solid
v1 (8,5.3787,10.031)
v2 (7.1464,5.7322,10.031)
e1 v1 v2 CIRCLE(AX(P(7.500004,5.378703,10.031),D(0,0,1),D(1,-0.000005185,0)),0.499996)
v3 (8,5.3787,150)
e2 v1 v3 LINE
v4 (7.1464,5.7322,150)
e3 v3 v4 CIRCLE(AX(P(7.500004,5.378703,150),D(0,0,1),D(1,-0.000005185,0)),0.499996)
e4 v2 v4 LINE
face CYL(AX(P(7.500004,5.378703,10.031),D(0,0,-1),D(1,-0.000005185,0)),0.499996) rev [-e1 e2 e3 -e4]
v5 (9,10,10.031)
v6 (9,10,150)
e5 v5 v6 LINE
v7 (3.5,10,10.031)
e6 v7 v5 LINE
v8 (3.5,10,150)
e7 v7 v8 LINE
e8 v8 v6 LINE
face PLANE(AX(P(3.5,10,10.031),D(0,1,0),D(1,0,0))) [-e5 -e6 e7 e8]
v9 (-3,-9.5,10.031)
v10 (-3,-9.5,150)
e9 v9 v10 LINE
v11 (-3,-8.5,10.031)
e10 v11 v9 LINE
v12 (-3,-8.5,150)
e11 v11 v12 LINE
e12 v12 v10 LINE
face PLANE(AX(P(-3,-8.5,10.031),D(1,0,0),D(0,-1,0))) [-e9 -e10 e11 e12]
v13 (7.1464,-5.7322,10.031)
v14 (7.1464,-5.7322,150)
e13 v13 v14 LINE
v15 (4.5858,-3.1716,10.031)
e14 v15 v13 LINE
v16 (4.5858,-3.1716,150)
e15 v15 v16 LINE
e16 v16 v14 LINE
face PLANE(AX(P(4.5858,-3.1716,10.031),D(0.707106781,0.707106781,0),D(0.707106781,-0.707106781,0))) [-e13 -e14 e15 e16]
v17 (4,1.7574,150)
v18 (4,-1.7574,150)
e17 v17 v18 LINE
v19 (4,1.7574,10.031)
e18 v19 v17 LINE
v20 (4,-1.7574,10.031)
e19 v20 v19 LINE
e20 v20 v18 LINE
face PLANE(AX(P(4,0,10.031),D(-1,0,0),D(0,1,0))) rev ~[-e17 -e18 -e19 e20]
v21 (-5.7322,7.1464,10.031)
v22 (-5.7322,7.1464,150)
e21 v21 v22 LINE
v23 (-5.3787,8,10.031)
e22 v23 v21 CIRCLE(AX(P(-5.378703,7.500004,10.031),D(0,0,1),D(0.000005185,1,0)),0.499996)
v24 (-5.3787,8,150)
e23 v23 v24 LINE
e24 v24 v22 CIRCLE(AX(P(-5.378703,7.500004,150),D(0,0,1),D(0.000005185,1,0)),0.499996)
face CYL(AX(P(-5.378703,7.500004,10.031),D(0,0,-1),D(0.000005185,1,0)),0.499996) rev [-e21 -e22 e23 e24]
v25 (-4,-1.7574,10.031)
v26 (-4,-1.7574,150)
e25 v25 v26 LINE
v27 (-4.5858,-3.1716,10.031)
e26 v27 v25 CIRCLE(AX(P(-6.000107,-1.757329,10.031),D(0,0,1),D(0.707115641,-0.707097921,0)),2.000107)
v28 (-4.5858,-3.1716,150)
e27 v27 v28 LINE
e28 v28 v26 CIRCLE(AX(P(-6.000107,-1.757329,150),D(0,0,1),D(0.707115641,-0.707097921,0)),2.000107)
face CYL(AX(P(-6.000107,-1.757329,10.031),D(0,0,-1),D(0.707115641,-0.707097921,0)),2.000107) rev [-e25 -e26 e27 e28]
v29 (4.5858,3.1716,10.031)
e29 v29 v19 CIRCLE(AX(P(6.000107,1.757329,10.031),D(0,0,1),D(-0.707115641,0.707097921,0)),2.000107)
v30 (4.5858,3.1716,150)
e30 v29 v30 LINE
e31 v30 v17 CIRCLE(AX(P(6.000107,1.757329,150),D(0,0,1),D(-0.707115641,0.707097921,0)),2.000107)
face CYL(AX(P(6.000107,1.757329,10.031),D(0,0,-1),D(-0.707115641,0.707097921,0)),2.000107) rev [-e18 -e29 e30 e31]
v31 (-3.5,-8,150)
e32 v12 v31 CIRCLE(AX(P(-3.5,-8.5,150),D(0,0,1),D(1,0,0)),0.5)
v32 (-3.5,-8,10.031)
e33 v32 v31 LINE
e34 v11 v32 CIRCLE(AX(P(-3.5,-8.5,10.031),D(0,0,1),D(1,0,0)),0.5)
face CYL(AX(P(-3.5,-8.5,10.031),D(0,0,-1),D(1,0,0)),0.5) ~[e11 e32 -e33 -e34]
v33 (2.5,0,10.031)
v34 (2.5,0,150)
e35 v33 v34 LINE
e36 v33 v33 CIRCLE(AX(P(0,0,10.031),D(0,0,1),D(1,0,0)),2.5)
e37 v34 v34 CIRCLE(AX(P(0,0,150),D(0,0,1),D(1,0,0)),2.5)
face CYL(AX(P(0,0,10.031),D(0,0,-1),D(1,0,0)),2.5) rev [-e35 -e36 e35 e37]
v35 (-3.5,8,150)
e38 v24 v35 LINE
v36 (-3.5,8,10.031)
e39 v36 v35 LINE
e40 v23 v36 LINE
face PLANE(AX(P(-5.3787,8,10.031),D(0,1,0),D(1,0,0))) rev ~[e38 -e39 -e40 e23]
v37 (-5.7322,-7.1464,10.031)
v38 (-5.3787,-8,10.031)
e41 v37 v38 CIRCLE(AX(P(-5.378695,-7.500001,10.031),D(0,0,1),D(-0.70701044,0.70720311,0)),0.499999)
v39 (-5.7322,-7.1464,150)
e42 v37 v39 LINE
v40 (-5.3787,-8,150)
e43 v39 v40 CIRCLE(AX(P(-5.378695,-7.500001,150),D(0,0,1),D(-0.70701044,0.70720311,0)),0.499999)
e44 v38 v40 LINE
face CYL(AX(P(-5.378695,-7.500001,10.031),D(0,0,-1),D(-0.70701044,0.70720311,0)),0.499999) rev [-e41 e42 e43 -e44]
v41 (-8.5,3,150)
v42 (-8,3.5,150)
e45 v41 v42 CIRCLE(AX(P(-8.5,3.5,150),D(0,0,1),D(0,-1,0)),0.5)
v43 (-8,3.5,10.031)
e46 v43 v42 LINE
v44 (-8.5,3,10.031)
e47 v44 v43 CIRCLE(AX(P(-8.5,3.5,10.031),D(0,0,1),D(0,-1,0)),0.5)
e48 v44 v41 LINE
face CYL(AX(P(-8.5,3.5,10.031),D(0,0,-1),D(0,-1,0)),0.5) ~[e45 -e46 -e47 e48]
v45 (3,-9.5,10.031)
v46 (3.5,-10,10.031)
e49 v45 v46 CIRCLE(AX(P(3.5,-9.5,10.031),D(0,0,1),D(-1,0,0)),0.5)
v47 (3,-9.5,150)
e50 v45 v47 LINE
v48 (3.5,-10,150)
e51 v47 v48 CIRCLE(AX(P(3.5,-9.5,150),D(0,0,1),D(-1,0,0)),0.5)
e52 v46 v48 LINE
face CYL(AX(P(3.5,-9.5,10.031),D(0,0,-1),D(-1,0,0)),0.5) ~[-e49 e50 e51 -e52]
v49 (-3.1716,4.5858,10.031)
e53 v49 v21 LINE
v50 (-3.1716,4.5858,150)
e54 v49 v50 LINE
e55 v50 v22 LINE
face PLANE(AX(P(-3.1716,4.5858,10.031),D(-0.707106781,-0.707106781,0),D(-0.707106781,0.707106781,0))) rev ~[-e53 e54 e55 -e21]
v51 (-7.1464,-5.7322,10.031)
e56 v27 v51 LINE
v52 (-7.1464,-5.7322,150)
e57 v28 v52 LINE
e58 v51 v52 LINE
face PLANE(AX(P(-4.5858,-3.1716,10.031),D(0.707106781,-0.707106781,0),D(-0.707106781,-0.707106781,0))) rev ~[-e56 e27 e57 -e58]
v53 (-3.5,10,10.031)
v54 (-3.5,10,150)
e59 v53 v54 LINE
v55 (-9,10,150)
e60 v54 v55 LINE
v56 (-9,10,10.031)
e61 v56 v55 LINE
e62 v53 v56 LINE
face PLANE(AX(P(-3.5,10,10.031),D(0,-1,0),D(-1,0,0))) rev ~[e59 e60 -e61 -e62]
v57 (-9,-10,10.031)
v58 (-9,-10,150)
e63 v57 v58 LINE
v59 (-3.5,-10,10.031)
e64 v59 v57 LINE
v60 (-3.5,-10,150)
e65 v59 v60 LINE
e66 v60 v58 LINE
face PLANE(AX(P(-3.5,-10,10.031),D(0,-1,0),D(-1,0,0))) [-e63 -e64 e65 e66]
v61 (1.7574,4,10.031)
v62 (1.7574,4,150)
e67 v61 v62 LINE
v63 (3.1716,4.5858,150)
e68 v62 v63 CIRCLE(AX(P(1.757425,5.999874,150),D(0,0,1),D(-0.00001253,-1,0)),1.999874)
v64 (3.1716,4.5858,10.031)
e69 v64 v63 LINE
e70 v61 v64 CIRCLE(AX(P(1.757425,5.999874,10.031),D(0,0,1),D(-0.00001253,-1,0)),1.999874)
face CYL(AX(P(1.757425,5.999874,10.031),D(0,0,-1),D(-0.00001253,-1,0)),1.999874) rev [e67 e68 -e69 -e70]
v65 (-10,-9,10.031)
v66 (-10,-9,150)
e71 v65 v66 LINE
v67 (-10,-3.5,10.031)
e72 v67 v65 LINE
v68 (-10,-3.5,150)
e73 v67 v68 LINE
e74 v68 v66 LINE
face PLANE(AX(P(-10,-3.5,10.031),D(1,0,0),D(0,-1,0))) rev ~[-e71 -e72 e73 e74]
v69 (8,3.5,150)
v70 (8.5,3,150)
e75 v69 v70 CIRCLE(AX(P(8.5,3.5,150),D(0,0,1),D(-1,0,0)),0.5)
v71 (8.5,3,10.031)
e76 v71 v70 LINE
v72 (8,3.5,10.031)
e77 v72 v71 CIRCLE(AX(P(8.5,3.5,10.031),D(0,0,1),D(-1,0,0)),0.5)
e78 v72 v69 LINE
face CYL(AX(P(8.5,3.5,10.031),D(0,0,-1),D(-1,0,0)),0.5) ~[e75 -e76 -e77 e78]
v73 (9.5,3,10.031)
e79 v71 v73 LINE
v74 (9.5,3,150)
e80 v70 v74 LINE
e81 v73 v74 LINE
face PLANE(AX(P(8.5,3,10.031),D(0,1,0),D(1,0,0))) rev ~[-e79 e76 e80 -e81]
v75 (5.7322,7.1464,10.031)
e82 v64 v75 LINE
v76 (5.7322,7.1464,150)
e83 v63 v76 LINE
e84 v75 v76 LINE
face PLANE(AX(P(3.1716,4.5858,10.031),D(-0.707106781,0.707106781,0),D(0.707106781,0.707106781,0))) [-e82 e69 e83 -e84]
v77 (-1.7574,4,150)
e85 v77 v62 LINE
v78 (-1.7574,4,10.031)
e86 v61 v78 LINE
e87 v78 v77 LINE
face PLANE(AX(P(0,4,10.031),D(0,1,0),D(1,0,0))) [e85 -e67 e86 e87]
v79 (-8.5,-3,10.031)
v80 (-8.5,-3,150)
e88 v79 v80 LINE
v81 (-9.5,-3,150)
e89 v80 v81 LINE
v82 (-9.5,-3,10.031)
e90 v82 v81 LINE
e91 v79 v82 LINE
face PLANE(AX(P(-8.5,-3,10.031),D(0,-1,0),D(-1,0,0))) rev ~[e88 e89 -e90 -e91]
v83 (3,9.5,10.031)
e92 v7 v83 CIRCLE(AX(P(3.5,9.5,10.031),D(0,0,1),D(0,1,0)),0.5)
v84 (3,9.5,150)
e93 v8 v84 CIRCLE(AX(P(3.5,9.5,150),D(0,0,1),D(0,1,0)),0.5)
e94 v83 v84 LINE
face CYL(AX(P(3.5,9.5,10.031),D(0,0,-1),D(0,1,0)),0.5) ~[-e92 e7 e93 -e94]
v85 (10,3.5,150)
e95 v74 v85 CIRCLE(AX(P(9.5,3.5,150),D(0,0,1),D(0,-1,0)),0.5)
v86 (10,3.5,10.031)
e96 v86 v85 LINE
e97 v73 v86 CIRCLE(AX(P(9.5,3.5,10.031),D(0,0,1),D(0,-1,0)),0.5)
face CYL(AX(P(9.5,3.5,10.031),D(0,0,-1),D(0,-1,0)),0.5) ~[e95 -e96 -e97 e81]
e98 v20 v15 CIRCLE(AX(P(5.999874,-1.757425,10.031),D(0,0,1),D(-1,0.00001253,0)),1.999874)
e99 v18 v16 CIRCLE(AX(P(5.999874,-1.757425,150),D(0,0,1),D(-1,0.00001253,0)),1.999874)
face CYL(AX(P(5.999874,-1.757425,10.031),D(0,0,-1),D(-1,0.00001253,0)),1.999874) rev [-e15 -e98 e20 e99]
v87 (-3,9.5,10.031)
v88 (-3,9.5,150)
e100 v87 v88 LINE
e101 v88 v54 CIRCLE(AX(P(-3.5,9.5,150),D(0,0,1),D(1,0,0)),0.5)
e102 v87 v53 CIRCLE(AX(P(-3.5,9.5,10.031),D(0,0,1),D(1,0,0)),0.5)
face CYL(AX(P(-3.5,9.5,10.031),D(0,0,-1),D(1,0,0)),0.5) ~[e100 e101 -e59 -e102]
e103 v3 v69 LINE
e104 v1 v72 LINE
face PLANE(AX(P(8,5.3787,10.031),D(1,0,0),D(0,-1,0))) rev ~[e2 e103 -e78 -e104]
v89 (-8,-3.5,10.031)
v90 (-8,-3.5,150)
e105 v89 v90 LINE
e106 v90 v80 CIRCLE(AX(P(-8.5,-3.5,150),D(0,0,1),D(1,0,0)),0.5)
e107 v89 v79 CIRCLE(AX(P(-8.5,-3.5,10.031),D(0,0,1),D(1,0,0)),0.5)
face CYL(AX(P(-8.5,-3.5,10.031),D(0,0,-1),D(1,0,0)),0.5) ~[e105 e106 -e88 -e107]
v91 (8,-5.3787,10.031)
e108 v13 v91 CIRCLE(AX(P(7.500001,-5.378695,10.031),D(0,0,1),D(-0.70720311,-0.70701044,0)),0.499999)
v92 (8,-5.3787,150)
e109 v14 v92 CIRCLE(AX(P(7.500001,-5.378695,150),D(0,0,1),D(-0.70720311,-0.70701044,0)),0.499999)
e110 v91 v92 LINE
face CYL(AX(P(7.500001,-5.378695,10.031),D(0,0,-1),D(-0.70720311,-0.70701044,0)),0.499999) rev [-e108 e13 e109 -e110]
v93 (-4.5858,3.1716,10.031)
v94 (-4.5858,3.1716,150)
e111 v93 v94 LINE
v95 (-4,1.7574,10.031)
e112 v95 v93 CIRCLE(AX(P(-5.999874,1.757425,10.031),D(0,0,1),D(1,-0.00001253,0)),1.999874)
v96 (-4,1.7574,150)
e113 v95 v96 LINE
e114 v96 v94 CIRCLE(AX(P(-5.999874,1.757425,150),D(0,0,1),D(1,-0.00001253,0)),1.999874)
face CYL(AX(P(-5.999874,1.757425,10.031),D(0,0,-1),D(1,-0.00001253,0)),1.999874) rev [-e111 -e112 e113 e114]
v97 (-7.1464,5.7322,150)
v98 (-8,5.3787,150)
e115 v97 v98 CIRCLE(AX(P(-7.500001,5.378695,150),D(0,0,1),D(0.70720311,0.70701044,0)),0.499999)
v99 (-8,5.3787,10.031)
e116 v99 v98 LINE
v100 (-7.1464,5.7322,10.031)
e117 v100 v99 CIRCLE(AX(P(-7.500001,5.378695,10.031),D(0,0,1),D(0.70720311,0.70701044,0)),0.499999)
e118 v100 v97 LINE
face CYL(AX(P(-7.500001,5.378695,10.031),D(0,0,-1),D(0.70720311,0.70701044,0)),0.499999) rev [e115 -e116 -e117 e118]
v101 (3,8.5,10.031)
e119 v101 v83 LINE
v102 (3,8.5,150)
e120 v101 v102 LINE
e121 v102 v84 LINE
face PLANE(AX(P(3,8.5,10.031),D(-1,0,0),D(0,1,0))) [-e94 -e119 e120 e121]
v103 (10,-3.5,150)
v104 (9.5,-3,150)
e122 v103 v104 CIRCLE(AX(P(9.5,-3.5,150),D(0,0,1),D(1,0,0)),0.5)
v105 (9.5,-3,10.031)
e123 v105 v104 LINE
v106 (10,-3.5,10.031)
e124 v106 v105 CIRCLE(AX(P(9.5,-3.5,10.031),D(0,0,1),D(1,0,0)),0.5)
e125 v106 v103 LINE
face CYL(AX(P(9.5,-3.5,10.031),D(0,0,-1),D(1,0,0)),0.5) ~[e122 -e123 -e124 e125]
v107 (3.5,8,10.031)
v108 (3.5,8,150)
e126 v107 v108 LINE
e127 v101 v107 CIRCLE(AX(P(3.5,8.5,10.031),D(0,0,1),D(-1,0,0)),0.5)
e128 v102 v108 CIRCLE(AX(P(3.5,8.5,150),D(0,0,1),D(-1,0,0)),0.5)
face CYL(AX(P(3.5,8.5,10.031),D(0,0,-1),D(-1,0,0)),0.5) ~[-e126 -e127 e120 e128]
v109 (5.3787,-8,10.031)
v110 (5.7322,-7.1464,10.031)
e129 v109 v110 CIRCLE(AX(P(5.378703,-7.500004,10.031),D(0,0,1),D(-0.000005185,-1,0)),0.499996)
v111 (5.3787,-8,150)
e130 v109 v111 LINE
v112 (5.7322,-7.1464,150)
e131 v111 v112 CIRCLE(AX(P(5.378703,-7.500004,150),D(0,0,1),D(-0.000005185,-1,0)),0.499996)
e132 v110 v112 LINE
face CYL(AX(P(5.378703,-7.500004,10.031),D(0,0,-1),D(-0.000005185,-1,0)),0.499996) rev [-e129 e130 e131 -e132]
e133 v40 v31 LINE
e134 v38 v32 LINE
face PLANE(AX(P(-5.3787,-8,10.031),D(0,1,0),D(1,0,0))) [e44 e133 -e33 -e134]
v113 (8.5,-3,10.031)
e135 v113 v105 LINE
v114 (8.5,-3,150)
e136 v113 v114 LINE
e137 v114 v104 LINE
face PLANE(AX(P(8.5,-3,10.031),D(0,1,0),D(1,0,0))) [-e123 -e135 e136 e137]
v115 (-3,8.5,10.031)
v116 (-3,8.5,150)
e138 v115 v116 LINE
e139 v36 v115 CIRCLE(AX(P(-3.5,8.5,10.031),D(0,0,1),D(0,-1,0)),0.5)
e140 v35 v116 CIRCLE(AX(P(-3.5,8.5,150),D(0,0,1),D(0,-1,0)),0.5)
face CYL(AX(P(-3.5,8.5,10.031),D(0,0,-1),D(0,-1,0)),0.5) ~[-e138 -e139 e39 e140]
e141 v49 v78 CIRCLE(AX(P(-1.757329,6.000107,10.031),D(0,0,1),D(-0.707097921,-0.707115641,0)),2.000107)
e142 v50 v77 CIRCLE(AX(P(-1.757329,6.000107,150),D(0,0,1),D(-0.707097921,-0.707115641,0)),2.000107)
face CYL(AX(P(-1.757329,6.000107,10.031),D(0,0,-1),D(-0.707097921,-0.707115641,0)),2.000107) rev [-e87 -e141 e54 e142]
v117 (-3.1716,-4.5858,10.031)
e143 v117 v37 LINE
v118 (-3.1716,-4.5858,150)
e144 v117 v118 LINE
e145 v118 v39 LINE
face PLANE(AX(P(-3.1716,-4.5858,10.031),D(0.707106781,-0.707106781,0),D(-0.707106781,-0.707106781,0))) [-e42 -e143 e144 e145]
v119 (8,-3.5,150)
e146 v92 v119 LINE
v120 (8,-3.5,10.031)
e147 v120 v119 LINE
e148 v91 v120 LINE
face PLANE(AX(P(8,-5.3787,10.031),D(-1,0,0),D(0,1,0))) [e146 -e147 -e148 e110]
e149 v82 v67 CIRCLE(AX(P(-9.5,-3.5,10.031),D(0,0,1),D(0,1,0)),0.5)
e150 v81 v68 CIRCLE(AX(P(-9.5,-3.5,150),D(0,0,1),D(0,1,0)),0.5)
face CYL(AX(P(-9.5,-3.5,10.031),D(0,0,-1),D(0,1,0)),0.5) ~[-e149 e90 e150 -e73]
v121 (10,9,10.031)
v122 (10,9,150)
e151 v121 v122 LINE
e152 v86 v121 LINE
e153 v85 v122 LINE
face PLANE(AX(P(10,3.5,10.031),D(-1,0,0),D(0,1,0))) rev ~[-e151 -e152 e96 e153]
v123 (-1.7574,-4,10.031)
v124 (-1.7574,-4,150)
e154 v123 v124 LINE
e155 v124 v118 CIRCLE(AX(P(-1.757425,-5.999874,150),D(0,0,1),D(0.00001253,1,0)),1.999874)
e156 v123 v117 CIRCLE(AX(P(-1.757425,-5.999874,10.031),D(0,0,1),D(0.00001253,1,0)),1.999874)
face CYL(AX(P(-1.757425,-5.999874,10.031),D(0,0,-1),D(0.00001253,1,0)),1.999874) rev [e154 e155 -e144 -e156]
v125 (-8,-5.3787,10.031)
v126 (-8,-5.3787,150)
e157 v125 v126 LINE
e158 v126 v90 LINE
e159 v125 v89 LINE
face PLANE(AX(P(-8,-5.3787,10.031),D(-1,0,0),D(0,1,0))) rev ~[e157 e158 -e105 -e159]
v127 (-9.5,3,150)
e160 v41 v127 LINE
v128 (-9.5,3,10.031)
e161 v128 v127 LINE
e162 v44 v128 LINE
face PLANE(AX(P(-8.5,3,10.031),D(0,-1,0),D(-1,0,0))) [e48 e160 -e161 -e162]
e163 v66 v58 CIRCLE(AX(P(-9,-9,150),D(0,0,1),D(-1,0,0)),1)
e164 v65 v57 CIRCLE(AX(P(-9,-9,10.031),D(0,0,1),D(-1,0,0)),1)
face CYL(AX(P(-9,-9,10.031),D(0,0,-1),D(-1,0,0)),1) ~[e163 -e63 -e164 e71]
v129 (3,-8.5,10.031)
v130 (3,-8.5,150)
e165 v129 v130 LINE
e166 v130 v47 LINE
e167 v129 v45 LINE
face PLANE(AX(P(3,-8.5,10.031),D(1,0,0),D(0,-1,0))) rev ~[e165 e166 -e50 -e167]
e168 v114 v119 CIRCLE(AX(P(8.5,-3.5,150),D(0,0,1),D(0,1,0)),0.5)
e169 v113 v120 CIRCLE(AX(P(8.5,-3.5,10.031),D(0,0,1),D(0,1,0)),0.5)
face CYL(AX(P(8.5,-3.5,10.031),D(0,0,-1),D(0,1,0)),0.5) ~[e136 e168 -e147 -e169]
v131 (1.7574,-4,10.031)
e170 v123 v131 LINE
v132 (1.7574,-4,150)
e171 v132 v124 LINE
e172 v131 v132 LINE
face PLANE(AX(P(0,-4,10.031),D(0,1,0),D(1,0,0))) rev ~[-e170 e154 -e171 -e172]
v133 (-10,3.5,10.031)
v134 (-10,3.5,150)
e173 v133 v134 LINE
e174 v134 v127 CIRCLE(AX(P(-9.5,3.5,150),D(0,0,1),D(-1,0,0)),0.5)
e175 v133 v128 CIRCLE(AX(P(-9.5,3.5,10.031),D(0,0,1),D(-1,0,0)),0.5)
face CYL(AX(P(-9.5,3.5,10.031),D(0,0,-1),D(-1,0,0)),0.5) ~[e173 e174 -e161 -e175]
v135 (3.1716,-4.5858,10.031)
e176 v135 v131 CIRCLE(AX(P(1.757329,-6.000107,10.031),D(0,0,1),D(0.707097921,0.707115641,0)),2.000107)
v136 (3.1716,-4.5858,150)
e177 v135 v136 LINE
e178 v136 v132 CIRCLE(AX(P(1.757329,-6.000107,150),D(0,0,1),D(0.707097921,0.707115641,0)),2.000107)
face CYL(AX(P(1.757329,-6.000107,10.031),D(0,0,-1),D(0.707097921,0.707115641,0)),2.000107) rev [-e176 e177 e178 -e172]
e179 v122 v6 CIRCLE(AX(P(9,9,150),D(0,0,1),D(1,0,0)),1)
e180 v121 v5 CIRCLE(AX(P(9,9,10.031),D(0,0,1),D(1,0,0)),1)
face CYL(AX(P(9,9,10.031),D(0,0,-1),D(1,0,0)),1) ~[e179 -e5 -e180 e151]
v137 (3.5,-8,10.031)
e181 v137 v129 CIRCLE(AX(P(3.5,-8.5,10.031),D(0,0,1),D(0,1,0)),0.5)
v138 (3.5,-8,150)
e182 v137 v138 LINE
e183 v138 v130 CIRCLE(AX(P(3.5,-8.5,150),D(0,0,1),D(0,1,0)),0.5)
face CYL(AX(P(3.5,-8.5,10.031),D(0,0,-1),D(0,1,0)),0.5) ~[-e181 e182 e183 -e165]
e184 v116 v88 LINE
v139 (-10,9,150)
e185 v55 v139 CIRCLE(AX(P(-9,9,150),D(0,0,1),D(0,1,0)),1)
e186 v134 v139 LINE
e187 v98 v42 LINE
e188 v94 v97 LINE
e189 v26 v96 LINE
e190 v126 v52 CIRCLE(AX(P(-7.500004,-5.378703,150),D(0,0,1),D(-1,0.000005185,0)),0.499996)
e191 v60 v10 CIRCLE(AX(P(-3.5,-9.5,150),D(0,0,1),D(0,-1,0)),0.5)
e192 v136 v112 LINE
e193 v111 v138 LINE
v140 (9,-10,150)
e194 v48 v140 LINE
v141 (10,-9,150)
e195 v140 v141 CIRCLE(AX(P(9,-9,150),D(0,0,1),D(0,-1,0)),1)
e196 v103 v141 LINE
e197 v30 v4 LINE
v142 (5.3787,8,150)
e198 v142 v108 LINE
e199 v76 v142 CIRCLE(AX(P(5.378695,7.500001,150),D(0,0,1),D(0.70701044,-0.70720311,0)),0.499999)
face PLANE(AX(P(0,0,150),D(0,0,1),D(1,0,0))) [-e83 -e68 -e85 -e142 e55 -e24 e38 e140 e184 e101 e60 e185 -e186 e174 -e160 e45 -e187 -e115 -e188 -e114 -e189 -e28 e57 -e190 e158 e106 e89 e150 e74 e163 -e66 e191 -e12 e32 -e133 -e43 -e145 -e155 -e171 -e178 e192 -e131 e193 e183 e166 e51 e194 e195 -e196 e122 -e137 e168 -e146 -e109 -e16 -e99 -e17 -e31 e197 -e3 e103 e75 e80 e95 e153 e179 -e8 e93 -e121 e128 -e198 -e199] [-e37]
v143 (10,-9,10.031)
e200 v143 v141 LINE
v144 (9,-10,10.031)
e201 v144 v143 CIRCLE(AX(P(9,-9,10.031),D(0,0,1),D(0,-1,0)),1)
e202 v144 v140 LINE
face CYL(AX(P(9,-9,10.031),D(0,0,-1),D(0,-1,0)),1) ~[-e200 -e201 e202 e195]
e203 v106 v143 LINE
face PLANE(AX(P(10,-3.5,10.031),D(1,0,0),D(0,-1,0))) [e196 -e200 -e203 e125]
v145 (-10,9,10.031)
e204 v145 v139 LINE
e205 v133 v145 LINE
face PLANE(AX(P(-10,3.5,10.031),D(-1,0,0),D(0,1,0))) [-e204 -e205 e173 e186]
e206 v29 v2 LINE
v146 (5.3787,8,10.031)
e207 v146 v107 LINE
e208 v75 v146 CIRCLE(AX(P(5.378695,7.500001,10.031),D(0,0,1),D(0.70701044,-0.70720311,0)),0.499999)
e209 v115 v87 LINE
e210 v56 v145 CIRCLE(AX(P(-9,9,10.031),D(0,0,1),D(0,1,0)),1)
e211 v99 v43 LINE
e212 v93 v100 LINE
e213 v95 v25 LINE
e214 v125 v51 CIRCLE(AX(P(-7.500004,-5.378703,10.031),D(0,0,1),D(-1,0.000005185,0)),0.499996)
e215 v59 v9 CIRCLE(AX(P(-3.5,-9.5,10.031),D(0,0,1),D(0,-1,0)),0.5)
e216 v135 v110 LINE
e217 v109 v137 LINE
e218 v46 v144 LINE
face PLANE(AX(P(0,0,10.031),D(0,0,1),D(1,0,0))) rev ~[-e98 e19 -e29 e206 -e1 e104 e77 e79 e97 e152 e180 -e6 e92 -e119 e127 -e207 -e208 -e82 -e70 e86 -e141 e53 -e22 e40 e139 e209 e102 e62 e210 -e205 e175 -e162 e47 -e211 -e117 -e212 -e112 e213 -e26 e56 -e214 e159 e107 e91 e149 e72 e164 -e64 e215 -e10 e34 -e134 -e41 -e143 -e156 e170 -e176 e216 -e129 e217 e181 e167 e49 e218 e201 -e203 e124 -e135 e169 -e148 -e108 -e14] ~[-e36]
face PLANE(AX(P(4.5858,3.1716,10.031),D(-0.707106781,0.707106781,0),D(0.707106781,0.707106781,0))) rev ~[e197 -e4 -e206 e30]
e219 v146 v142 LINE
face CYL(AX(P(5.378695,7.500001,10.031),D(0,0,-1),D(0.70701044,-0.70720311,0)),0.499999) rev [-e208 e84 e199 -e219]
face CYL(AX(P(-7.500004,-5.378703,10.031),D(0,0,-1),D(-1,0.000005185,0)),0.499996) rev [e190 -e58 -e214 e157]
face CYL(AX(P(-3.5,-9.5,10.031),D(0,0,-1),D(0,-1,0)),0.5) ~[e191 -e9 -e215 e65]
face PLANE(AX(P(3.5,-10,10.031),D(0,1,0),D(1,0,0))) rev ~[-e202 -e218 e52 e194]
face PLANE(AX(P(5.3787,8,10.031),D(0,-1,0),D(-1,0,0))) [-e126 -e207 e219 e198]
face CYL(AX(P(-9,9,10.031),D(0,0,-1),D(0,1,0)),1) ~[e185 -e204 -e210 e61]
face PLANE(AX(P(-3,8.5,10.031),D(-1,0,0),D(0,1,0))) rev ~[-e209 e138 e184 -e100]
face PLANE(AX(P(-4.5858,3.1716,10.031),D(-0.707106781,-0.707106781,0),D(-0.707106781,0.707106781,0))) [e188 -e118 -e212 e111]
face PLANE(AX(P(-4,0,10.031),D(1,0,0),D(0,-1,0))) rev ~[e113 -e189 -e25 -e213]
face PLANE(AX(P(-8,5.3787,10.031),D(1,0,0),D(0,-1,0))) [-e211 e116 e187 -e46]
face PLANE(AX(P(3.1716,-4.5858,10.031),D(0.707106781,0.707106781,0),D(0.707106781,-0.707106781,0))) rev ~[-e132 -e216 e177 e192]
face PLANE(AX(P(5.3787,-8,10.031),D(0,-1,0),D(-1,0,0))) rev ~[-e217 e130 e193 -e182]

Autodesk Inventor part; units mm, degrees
ref_plane "Start Plane" through (0, 0, 10.031) normal (0, 0, 1) x (1, 0, 0)
ref_plane "End Plane" through (0, 0, 150) normal (0, 0, 1) x (1, 0, 0)
sketch "Sketch" plane through (0, 0, 0) normal (0, 0, 1) x (1, 0, 0)
  line L0 (0, 0) -> (2.5, 0) construction
  line L1 (0, 0) -> (0, 2.5) construction
  line L2 (0, 4) -> (0, -4) construction
  line L3 (0, 4) -> (1.7574, 4)
  arc A0 (1.7574, 4) -> (3.1716, 4.5858) centre (1.7574, 6) ccw
  line L4 (3.1716, 4.5858) -> (5.7322, 7.1464)
  line L5 (-4, 0) -> (4, 0) construction
  line L6 (4, 0) -> (4, 1.7574)
  arc A1 (4.5858, 3.1716) -> (4, 1.7574) centre (6, 1.7574) ccw
  line L7 (4.5858, 3.1716) -> (7.1464, 5.7322)
  line L8 (0, 0) -> (10, 10) construction
  line L9 (0, 0) -> (19.6827, 0) construction
  arc A2 (8, 5.3787) -> (7.1464, 5.7322) centre (7.5, 5.3787) ccw
  line L10 (8, 5.3787) -> (8, 3.5)
  arc A3 (8, 3.5) -> (8.5, 3) centre (8.5, 3.5) ccw
  line L11 (8.5, 3) -> (9.5, 3)
  arc A4 (9.5, 3) -> (10, 3.5) centre (9.5, 3.5) ccw
  line L12 (10, 3.5) -> (10, 9)
  line L13 (10, 9) -> (10, 10) construction
  arc A5 (5.7322, 7.1464) -> (5.3787, 8) centre (5.3787, 7.5) ccw
  line L14 (5.3787, 8) -> (3.5, 8)
  arc A6 (3, 8.5) -> (3.5, 8) centre (3.5, 8.5) ccw
  line L15 (3, 8.5) -> (3, 9.5)
  arc A7 (3.5, 10) -> (3, 9.5) centre (3.5, 9.5) ccw
  line L16 (3.5, 10) -> (9, 10)
  arc A8 (10, 9) -> (9, 10) centre (9, 9) ccw
  line L17 (0, 4) -> (-1.7574, 4)
  arc A9 (-3.1716, 4.5858) -> (-1.7574, 4) centre (-1.7574, 6) ccw
  line L18 (-3.1716, 4.5858) -> (-5.7322, 7.1464)
  line L19 (-4, 0) -> (-4, 1.7574)
  arc A10 (-4, 1.7574) -> (-4.5858, 3.1716) centre (-6, 1.7574) ccw
  line L20 (-4.5858, 3.1716) -> (-7.1464, 5.7322)
  arc A11 (-7.1464, 5.7322) -> (-8, 5.3787) centre (-7.5, 5.3787) ccw
  line L21 (-8, 5.3787) -> (-8, 3.5)
  arc A12 (-8.5, 3) -> (-8, 3.5) centre (-8.5, 3.5) ccw
  line L22 (-8.5, 3) -> (-9.5, 3)
  arc A13 (-10, 3.5) -> (-9.5, 3) centre (-9.5, 3.5) ccw
  line L23 (-10, 3.5) -> (-10, 9)
  arc A14 (-5.3787, 8) -> (-5.7322, 7.1464) centre (-5.3787, 7.5) ccw
  line L24 (-5.3787, 8) -> (-3.5, 8)
  arc A15 (-3.5, 8) -> (-3, 8.5) centre (-3.5, 8.5) ccw
  line L25 (-3, 8.5) -> (-3, 9.5)
  arc A16 (-3, 9.5) -> (-3.5, 10) centre (-3.5, 9.5) ccw
  line L26 (-3.5, 10) -> (-9, 10)
  arc A17 (-9, 10) -> (-10, 9) centre (-9, 9) ccw
  line L27 (0, -4) -> (-1.7574, -4)
  arc A18 (-1.7574, -4) -> (-3.1716, -4.5858) centre (-1.7574, -6) ccw
  line L28 (-3.1716, -4.5858) -> (-5.7322, -7.1464)
  arc A19 (-5.7322, -7.1464) -> (-5.3787, -8) centre (-5.3787, -7.5) ccw
  line L29 (-5.3787, -8) -> (-3.5, -8)
  arc A20 (-3, -8.5) -> (-3.5, -8) centre (-3.5, -8.5) ccw
  line L30 (-3, -8.5) -> (-3, -9.5)
  arc A21 (-3.5, -10) -> (-3, -9.5) centre (-3.5, -9.5) ccw
  line L31 (-3.5, -10) -> (-9, -10)
  arc A22 (-10, -9) -> (-9, -10) centre (-9, -9) ccw
  line L32 (-10, -3.5) -> (-10, -9)
  arc A23 (-9.5, -3) -> (-10, -3.5) centre (-9.5, -3.5) ccw
  line L33 (-8.5, -3) -> (-9.5, -3)
  arc A24 (-8, -3.5) -> (-8.5, -3) centre (-8.5, -3.5) ccw
  line L34 (-8, -5.3787) -> (-8, -3.5)
  arc A25 (-8, -5.3787) -> (-7.1464, -5.7322) centre (-7.5, -5.3787) ccw
  line L35 (-4.5858, -3.1716) -> (-7.1464, -5.7322)
  arc A26 (-4.5858, -3.1716) -> (-4, -1.7574) centre (-6, -1.7574) ccw
  line L36 (-4, 0) -> (-4, -1.7574)
  line L37 (3.5, -10) -> (9, -10)
  arc A27 (9, -10) -> (10, -9) centre (9, -9) ccw
  line L38 (10, -3.5) -> (10, -9)
  arc A28 (10, -3.5) -> (9.5, -3) centre (9.5, -3.5) ccw
  line L39 (8.5, -3) -> (9.5, -3)
  arc A29 (8.5, -3) -> (8, -3.5) centre (8.5, -3.5) ccw
  line L40 (8, -5.3787) -> (8, -3.5)
  arc A30 (7.1464, -5.7322) -> (8, -5.3787) centre (7.5, -5.3787) ccw
  line L41 (4.5858, -3.1716) -> (7.1464, -5.7322)
  arc A31 (4, -1.7574) -> (4.5858, -3.1716) centre (6, -1.7574) ccw
  line L42 (4, 0) -> (4, -1.7574)
  line L43 (5.3787, -8) -> (3.5, -8)
  arc A32 (5.3787, -8) -> (5.7322, -7.1464) centre (5.3787, -7.5) ccw
  line L44 (3.1716, -4.5858) -> (5.7322, -7.1464)
  arc A33 (3.1716, -4.5858) -> (1.7574, -4) centre (1.7574, -6) ccw
  line L45 (0, -4) -> (1.7574, -4)
  arc A34 (3.5, -8) -> (3, -8.5) centre (3.5, -8.5) ccw
  line L46 (3, -8.5) -> (3, -9.5)
  arc A35 (3, -9.5) -> (3.5, -10) centre (3.5, -9.5) ccw
  circle A36 centre (0, 0) radius 2.5
  dimension "d1" = 8
  dimension "d2" = 2
  dimension "d3" = 8
  dimension "d4" = 2
  dimension "d5" = 2
  dimension "d7" = 45
  dimension "d8" = 0.5
  dimension "d9" = 0.5
  dimension "d10" = 0.5
  dimension "d12" = 2
  dimension "d17" = 7
  dimension "d18" = 10
  dimension "d19" = 0.5
  dimension "d20" = 1
  dimension "d21" = 0.5
  dimension "d22" = 0.5
  dimension "d23" = 2
  dimension "d24" = 7
  dimension "d25" = 5
extrude "Body" add sketch "Sketch" along normal up to surface (139.969 mm away) from surface at 10.031
sketch "Sketch6" plane through (0, 0, 0) normal (0, 0, 1) x (1, 0, 0)
  line L0 (0, 0) -> (10, 0)
ref_plane "Work Plane5" through (0, 0, 0) normal (0, -1, 0) x (1, 0, 0)
sketch "Sketch7" plane through (0, 0, 0) normal (0, -1, 0) x (1, 0, 0)
  line L0 (-2, 10.031) -> (12, 10.031)
  line L1 (-2, 150) -> (12, 150)
  dimension "d33" = 139.969
ref_plane "Work Plane6" through (-400, 9, 10.031) normal (0, 0, -1) x (-1, 0, 0)
split "Split1" plane through (-400, 9, 10.031) removes the side toward (0, 0, -1)
equation "\"d1\" = 8 * sigma"
equation "\"d2\" = 2 * sigma"
equation "\"d3\" = 8 * sigma"
equation "\"d4\" = 2 * sigma"
equation "\"d5\" = 2 * sigma"
equation "\"d8\" = 0.5 * sigma"
equation "\"d9\" = 0.5 * sigma"
equation "\"d10\" = 0.5 * sigma"
equation "\"d12\" = 2 * sigma"
equation "\"d17\" = 7 * sigma"
equation "\"d18\" = sigma"
equation "\"d19\" = 0.5 * sigma"
equation "\"d20\" = sigma"
equation "\"d21\" = 0.5 * sigma"
equation "\"d22\" = 0.5 * sigma"
equation "\"d23\" = 2 * sigma"
equation "\"d24\" = 7 * sigma"
equation "\"d25\" = 5 * sigma"
equation "\"sigma\" = 1"
equation "\"G_OFFSET_START\" = -10.031"
equation "\"G_OFFSET_END\" = 0"
equation "\"d28\" = -G_OFFSET_START"
equation "\"G_L\" = d33"
properties part number "A3.3-MEM"
